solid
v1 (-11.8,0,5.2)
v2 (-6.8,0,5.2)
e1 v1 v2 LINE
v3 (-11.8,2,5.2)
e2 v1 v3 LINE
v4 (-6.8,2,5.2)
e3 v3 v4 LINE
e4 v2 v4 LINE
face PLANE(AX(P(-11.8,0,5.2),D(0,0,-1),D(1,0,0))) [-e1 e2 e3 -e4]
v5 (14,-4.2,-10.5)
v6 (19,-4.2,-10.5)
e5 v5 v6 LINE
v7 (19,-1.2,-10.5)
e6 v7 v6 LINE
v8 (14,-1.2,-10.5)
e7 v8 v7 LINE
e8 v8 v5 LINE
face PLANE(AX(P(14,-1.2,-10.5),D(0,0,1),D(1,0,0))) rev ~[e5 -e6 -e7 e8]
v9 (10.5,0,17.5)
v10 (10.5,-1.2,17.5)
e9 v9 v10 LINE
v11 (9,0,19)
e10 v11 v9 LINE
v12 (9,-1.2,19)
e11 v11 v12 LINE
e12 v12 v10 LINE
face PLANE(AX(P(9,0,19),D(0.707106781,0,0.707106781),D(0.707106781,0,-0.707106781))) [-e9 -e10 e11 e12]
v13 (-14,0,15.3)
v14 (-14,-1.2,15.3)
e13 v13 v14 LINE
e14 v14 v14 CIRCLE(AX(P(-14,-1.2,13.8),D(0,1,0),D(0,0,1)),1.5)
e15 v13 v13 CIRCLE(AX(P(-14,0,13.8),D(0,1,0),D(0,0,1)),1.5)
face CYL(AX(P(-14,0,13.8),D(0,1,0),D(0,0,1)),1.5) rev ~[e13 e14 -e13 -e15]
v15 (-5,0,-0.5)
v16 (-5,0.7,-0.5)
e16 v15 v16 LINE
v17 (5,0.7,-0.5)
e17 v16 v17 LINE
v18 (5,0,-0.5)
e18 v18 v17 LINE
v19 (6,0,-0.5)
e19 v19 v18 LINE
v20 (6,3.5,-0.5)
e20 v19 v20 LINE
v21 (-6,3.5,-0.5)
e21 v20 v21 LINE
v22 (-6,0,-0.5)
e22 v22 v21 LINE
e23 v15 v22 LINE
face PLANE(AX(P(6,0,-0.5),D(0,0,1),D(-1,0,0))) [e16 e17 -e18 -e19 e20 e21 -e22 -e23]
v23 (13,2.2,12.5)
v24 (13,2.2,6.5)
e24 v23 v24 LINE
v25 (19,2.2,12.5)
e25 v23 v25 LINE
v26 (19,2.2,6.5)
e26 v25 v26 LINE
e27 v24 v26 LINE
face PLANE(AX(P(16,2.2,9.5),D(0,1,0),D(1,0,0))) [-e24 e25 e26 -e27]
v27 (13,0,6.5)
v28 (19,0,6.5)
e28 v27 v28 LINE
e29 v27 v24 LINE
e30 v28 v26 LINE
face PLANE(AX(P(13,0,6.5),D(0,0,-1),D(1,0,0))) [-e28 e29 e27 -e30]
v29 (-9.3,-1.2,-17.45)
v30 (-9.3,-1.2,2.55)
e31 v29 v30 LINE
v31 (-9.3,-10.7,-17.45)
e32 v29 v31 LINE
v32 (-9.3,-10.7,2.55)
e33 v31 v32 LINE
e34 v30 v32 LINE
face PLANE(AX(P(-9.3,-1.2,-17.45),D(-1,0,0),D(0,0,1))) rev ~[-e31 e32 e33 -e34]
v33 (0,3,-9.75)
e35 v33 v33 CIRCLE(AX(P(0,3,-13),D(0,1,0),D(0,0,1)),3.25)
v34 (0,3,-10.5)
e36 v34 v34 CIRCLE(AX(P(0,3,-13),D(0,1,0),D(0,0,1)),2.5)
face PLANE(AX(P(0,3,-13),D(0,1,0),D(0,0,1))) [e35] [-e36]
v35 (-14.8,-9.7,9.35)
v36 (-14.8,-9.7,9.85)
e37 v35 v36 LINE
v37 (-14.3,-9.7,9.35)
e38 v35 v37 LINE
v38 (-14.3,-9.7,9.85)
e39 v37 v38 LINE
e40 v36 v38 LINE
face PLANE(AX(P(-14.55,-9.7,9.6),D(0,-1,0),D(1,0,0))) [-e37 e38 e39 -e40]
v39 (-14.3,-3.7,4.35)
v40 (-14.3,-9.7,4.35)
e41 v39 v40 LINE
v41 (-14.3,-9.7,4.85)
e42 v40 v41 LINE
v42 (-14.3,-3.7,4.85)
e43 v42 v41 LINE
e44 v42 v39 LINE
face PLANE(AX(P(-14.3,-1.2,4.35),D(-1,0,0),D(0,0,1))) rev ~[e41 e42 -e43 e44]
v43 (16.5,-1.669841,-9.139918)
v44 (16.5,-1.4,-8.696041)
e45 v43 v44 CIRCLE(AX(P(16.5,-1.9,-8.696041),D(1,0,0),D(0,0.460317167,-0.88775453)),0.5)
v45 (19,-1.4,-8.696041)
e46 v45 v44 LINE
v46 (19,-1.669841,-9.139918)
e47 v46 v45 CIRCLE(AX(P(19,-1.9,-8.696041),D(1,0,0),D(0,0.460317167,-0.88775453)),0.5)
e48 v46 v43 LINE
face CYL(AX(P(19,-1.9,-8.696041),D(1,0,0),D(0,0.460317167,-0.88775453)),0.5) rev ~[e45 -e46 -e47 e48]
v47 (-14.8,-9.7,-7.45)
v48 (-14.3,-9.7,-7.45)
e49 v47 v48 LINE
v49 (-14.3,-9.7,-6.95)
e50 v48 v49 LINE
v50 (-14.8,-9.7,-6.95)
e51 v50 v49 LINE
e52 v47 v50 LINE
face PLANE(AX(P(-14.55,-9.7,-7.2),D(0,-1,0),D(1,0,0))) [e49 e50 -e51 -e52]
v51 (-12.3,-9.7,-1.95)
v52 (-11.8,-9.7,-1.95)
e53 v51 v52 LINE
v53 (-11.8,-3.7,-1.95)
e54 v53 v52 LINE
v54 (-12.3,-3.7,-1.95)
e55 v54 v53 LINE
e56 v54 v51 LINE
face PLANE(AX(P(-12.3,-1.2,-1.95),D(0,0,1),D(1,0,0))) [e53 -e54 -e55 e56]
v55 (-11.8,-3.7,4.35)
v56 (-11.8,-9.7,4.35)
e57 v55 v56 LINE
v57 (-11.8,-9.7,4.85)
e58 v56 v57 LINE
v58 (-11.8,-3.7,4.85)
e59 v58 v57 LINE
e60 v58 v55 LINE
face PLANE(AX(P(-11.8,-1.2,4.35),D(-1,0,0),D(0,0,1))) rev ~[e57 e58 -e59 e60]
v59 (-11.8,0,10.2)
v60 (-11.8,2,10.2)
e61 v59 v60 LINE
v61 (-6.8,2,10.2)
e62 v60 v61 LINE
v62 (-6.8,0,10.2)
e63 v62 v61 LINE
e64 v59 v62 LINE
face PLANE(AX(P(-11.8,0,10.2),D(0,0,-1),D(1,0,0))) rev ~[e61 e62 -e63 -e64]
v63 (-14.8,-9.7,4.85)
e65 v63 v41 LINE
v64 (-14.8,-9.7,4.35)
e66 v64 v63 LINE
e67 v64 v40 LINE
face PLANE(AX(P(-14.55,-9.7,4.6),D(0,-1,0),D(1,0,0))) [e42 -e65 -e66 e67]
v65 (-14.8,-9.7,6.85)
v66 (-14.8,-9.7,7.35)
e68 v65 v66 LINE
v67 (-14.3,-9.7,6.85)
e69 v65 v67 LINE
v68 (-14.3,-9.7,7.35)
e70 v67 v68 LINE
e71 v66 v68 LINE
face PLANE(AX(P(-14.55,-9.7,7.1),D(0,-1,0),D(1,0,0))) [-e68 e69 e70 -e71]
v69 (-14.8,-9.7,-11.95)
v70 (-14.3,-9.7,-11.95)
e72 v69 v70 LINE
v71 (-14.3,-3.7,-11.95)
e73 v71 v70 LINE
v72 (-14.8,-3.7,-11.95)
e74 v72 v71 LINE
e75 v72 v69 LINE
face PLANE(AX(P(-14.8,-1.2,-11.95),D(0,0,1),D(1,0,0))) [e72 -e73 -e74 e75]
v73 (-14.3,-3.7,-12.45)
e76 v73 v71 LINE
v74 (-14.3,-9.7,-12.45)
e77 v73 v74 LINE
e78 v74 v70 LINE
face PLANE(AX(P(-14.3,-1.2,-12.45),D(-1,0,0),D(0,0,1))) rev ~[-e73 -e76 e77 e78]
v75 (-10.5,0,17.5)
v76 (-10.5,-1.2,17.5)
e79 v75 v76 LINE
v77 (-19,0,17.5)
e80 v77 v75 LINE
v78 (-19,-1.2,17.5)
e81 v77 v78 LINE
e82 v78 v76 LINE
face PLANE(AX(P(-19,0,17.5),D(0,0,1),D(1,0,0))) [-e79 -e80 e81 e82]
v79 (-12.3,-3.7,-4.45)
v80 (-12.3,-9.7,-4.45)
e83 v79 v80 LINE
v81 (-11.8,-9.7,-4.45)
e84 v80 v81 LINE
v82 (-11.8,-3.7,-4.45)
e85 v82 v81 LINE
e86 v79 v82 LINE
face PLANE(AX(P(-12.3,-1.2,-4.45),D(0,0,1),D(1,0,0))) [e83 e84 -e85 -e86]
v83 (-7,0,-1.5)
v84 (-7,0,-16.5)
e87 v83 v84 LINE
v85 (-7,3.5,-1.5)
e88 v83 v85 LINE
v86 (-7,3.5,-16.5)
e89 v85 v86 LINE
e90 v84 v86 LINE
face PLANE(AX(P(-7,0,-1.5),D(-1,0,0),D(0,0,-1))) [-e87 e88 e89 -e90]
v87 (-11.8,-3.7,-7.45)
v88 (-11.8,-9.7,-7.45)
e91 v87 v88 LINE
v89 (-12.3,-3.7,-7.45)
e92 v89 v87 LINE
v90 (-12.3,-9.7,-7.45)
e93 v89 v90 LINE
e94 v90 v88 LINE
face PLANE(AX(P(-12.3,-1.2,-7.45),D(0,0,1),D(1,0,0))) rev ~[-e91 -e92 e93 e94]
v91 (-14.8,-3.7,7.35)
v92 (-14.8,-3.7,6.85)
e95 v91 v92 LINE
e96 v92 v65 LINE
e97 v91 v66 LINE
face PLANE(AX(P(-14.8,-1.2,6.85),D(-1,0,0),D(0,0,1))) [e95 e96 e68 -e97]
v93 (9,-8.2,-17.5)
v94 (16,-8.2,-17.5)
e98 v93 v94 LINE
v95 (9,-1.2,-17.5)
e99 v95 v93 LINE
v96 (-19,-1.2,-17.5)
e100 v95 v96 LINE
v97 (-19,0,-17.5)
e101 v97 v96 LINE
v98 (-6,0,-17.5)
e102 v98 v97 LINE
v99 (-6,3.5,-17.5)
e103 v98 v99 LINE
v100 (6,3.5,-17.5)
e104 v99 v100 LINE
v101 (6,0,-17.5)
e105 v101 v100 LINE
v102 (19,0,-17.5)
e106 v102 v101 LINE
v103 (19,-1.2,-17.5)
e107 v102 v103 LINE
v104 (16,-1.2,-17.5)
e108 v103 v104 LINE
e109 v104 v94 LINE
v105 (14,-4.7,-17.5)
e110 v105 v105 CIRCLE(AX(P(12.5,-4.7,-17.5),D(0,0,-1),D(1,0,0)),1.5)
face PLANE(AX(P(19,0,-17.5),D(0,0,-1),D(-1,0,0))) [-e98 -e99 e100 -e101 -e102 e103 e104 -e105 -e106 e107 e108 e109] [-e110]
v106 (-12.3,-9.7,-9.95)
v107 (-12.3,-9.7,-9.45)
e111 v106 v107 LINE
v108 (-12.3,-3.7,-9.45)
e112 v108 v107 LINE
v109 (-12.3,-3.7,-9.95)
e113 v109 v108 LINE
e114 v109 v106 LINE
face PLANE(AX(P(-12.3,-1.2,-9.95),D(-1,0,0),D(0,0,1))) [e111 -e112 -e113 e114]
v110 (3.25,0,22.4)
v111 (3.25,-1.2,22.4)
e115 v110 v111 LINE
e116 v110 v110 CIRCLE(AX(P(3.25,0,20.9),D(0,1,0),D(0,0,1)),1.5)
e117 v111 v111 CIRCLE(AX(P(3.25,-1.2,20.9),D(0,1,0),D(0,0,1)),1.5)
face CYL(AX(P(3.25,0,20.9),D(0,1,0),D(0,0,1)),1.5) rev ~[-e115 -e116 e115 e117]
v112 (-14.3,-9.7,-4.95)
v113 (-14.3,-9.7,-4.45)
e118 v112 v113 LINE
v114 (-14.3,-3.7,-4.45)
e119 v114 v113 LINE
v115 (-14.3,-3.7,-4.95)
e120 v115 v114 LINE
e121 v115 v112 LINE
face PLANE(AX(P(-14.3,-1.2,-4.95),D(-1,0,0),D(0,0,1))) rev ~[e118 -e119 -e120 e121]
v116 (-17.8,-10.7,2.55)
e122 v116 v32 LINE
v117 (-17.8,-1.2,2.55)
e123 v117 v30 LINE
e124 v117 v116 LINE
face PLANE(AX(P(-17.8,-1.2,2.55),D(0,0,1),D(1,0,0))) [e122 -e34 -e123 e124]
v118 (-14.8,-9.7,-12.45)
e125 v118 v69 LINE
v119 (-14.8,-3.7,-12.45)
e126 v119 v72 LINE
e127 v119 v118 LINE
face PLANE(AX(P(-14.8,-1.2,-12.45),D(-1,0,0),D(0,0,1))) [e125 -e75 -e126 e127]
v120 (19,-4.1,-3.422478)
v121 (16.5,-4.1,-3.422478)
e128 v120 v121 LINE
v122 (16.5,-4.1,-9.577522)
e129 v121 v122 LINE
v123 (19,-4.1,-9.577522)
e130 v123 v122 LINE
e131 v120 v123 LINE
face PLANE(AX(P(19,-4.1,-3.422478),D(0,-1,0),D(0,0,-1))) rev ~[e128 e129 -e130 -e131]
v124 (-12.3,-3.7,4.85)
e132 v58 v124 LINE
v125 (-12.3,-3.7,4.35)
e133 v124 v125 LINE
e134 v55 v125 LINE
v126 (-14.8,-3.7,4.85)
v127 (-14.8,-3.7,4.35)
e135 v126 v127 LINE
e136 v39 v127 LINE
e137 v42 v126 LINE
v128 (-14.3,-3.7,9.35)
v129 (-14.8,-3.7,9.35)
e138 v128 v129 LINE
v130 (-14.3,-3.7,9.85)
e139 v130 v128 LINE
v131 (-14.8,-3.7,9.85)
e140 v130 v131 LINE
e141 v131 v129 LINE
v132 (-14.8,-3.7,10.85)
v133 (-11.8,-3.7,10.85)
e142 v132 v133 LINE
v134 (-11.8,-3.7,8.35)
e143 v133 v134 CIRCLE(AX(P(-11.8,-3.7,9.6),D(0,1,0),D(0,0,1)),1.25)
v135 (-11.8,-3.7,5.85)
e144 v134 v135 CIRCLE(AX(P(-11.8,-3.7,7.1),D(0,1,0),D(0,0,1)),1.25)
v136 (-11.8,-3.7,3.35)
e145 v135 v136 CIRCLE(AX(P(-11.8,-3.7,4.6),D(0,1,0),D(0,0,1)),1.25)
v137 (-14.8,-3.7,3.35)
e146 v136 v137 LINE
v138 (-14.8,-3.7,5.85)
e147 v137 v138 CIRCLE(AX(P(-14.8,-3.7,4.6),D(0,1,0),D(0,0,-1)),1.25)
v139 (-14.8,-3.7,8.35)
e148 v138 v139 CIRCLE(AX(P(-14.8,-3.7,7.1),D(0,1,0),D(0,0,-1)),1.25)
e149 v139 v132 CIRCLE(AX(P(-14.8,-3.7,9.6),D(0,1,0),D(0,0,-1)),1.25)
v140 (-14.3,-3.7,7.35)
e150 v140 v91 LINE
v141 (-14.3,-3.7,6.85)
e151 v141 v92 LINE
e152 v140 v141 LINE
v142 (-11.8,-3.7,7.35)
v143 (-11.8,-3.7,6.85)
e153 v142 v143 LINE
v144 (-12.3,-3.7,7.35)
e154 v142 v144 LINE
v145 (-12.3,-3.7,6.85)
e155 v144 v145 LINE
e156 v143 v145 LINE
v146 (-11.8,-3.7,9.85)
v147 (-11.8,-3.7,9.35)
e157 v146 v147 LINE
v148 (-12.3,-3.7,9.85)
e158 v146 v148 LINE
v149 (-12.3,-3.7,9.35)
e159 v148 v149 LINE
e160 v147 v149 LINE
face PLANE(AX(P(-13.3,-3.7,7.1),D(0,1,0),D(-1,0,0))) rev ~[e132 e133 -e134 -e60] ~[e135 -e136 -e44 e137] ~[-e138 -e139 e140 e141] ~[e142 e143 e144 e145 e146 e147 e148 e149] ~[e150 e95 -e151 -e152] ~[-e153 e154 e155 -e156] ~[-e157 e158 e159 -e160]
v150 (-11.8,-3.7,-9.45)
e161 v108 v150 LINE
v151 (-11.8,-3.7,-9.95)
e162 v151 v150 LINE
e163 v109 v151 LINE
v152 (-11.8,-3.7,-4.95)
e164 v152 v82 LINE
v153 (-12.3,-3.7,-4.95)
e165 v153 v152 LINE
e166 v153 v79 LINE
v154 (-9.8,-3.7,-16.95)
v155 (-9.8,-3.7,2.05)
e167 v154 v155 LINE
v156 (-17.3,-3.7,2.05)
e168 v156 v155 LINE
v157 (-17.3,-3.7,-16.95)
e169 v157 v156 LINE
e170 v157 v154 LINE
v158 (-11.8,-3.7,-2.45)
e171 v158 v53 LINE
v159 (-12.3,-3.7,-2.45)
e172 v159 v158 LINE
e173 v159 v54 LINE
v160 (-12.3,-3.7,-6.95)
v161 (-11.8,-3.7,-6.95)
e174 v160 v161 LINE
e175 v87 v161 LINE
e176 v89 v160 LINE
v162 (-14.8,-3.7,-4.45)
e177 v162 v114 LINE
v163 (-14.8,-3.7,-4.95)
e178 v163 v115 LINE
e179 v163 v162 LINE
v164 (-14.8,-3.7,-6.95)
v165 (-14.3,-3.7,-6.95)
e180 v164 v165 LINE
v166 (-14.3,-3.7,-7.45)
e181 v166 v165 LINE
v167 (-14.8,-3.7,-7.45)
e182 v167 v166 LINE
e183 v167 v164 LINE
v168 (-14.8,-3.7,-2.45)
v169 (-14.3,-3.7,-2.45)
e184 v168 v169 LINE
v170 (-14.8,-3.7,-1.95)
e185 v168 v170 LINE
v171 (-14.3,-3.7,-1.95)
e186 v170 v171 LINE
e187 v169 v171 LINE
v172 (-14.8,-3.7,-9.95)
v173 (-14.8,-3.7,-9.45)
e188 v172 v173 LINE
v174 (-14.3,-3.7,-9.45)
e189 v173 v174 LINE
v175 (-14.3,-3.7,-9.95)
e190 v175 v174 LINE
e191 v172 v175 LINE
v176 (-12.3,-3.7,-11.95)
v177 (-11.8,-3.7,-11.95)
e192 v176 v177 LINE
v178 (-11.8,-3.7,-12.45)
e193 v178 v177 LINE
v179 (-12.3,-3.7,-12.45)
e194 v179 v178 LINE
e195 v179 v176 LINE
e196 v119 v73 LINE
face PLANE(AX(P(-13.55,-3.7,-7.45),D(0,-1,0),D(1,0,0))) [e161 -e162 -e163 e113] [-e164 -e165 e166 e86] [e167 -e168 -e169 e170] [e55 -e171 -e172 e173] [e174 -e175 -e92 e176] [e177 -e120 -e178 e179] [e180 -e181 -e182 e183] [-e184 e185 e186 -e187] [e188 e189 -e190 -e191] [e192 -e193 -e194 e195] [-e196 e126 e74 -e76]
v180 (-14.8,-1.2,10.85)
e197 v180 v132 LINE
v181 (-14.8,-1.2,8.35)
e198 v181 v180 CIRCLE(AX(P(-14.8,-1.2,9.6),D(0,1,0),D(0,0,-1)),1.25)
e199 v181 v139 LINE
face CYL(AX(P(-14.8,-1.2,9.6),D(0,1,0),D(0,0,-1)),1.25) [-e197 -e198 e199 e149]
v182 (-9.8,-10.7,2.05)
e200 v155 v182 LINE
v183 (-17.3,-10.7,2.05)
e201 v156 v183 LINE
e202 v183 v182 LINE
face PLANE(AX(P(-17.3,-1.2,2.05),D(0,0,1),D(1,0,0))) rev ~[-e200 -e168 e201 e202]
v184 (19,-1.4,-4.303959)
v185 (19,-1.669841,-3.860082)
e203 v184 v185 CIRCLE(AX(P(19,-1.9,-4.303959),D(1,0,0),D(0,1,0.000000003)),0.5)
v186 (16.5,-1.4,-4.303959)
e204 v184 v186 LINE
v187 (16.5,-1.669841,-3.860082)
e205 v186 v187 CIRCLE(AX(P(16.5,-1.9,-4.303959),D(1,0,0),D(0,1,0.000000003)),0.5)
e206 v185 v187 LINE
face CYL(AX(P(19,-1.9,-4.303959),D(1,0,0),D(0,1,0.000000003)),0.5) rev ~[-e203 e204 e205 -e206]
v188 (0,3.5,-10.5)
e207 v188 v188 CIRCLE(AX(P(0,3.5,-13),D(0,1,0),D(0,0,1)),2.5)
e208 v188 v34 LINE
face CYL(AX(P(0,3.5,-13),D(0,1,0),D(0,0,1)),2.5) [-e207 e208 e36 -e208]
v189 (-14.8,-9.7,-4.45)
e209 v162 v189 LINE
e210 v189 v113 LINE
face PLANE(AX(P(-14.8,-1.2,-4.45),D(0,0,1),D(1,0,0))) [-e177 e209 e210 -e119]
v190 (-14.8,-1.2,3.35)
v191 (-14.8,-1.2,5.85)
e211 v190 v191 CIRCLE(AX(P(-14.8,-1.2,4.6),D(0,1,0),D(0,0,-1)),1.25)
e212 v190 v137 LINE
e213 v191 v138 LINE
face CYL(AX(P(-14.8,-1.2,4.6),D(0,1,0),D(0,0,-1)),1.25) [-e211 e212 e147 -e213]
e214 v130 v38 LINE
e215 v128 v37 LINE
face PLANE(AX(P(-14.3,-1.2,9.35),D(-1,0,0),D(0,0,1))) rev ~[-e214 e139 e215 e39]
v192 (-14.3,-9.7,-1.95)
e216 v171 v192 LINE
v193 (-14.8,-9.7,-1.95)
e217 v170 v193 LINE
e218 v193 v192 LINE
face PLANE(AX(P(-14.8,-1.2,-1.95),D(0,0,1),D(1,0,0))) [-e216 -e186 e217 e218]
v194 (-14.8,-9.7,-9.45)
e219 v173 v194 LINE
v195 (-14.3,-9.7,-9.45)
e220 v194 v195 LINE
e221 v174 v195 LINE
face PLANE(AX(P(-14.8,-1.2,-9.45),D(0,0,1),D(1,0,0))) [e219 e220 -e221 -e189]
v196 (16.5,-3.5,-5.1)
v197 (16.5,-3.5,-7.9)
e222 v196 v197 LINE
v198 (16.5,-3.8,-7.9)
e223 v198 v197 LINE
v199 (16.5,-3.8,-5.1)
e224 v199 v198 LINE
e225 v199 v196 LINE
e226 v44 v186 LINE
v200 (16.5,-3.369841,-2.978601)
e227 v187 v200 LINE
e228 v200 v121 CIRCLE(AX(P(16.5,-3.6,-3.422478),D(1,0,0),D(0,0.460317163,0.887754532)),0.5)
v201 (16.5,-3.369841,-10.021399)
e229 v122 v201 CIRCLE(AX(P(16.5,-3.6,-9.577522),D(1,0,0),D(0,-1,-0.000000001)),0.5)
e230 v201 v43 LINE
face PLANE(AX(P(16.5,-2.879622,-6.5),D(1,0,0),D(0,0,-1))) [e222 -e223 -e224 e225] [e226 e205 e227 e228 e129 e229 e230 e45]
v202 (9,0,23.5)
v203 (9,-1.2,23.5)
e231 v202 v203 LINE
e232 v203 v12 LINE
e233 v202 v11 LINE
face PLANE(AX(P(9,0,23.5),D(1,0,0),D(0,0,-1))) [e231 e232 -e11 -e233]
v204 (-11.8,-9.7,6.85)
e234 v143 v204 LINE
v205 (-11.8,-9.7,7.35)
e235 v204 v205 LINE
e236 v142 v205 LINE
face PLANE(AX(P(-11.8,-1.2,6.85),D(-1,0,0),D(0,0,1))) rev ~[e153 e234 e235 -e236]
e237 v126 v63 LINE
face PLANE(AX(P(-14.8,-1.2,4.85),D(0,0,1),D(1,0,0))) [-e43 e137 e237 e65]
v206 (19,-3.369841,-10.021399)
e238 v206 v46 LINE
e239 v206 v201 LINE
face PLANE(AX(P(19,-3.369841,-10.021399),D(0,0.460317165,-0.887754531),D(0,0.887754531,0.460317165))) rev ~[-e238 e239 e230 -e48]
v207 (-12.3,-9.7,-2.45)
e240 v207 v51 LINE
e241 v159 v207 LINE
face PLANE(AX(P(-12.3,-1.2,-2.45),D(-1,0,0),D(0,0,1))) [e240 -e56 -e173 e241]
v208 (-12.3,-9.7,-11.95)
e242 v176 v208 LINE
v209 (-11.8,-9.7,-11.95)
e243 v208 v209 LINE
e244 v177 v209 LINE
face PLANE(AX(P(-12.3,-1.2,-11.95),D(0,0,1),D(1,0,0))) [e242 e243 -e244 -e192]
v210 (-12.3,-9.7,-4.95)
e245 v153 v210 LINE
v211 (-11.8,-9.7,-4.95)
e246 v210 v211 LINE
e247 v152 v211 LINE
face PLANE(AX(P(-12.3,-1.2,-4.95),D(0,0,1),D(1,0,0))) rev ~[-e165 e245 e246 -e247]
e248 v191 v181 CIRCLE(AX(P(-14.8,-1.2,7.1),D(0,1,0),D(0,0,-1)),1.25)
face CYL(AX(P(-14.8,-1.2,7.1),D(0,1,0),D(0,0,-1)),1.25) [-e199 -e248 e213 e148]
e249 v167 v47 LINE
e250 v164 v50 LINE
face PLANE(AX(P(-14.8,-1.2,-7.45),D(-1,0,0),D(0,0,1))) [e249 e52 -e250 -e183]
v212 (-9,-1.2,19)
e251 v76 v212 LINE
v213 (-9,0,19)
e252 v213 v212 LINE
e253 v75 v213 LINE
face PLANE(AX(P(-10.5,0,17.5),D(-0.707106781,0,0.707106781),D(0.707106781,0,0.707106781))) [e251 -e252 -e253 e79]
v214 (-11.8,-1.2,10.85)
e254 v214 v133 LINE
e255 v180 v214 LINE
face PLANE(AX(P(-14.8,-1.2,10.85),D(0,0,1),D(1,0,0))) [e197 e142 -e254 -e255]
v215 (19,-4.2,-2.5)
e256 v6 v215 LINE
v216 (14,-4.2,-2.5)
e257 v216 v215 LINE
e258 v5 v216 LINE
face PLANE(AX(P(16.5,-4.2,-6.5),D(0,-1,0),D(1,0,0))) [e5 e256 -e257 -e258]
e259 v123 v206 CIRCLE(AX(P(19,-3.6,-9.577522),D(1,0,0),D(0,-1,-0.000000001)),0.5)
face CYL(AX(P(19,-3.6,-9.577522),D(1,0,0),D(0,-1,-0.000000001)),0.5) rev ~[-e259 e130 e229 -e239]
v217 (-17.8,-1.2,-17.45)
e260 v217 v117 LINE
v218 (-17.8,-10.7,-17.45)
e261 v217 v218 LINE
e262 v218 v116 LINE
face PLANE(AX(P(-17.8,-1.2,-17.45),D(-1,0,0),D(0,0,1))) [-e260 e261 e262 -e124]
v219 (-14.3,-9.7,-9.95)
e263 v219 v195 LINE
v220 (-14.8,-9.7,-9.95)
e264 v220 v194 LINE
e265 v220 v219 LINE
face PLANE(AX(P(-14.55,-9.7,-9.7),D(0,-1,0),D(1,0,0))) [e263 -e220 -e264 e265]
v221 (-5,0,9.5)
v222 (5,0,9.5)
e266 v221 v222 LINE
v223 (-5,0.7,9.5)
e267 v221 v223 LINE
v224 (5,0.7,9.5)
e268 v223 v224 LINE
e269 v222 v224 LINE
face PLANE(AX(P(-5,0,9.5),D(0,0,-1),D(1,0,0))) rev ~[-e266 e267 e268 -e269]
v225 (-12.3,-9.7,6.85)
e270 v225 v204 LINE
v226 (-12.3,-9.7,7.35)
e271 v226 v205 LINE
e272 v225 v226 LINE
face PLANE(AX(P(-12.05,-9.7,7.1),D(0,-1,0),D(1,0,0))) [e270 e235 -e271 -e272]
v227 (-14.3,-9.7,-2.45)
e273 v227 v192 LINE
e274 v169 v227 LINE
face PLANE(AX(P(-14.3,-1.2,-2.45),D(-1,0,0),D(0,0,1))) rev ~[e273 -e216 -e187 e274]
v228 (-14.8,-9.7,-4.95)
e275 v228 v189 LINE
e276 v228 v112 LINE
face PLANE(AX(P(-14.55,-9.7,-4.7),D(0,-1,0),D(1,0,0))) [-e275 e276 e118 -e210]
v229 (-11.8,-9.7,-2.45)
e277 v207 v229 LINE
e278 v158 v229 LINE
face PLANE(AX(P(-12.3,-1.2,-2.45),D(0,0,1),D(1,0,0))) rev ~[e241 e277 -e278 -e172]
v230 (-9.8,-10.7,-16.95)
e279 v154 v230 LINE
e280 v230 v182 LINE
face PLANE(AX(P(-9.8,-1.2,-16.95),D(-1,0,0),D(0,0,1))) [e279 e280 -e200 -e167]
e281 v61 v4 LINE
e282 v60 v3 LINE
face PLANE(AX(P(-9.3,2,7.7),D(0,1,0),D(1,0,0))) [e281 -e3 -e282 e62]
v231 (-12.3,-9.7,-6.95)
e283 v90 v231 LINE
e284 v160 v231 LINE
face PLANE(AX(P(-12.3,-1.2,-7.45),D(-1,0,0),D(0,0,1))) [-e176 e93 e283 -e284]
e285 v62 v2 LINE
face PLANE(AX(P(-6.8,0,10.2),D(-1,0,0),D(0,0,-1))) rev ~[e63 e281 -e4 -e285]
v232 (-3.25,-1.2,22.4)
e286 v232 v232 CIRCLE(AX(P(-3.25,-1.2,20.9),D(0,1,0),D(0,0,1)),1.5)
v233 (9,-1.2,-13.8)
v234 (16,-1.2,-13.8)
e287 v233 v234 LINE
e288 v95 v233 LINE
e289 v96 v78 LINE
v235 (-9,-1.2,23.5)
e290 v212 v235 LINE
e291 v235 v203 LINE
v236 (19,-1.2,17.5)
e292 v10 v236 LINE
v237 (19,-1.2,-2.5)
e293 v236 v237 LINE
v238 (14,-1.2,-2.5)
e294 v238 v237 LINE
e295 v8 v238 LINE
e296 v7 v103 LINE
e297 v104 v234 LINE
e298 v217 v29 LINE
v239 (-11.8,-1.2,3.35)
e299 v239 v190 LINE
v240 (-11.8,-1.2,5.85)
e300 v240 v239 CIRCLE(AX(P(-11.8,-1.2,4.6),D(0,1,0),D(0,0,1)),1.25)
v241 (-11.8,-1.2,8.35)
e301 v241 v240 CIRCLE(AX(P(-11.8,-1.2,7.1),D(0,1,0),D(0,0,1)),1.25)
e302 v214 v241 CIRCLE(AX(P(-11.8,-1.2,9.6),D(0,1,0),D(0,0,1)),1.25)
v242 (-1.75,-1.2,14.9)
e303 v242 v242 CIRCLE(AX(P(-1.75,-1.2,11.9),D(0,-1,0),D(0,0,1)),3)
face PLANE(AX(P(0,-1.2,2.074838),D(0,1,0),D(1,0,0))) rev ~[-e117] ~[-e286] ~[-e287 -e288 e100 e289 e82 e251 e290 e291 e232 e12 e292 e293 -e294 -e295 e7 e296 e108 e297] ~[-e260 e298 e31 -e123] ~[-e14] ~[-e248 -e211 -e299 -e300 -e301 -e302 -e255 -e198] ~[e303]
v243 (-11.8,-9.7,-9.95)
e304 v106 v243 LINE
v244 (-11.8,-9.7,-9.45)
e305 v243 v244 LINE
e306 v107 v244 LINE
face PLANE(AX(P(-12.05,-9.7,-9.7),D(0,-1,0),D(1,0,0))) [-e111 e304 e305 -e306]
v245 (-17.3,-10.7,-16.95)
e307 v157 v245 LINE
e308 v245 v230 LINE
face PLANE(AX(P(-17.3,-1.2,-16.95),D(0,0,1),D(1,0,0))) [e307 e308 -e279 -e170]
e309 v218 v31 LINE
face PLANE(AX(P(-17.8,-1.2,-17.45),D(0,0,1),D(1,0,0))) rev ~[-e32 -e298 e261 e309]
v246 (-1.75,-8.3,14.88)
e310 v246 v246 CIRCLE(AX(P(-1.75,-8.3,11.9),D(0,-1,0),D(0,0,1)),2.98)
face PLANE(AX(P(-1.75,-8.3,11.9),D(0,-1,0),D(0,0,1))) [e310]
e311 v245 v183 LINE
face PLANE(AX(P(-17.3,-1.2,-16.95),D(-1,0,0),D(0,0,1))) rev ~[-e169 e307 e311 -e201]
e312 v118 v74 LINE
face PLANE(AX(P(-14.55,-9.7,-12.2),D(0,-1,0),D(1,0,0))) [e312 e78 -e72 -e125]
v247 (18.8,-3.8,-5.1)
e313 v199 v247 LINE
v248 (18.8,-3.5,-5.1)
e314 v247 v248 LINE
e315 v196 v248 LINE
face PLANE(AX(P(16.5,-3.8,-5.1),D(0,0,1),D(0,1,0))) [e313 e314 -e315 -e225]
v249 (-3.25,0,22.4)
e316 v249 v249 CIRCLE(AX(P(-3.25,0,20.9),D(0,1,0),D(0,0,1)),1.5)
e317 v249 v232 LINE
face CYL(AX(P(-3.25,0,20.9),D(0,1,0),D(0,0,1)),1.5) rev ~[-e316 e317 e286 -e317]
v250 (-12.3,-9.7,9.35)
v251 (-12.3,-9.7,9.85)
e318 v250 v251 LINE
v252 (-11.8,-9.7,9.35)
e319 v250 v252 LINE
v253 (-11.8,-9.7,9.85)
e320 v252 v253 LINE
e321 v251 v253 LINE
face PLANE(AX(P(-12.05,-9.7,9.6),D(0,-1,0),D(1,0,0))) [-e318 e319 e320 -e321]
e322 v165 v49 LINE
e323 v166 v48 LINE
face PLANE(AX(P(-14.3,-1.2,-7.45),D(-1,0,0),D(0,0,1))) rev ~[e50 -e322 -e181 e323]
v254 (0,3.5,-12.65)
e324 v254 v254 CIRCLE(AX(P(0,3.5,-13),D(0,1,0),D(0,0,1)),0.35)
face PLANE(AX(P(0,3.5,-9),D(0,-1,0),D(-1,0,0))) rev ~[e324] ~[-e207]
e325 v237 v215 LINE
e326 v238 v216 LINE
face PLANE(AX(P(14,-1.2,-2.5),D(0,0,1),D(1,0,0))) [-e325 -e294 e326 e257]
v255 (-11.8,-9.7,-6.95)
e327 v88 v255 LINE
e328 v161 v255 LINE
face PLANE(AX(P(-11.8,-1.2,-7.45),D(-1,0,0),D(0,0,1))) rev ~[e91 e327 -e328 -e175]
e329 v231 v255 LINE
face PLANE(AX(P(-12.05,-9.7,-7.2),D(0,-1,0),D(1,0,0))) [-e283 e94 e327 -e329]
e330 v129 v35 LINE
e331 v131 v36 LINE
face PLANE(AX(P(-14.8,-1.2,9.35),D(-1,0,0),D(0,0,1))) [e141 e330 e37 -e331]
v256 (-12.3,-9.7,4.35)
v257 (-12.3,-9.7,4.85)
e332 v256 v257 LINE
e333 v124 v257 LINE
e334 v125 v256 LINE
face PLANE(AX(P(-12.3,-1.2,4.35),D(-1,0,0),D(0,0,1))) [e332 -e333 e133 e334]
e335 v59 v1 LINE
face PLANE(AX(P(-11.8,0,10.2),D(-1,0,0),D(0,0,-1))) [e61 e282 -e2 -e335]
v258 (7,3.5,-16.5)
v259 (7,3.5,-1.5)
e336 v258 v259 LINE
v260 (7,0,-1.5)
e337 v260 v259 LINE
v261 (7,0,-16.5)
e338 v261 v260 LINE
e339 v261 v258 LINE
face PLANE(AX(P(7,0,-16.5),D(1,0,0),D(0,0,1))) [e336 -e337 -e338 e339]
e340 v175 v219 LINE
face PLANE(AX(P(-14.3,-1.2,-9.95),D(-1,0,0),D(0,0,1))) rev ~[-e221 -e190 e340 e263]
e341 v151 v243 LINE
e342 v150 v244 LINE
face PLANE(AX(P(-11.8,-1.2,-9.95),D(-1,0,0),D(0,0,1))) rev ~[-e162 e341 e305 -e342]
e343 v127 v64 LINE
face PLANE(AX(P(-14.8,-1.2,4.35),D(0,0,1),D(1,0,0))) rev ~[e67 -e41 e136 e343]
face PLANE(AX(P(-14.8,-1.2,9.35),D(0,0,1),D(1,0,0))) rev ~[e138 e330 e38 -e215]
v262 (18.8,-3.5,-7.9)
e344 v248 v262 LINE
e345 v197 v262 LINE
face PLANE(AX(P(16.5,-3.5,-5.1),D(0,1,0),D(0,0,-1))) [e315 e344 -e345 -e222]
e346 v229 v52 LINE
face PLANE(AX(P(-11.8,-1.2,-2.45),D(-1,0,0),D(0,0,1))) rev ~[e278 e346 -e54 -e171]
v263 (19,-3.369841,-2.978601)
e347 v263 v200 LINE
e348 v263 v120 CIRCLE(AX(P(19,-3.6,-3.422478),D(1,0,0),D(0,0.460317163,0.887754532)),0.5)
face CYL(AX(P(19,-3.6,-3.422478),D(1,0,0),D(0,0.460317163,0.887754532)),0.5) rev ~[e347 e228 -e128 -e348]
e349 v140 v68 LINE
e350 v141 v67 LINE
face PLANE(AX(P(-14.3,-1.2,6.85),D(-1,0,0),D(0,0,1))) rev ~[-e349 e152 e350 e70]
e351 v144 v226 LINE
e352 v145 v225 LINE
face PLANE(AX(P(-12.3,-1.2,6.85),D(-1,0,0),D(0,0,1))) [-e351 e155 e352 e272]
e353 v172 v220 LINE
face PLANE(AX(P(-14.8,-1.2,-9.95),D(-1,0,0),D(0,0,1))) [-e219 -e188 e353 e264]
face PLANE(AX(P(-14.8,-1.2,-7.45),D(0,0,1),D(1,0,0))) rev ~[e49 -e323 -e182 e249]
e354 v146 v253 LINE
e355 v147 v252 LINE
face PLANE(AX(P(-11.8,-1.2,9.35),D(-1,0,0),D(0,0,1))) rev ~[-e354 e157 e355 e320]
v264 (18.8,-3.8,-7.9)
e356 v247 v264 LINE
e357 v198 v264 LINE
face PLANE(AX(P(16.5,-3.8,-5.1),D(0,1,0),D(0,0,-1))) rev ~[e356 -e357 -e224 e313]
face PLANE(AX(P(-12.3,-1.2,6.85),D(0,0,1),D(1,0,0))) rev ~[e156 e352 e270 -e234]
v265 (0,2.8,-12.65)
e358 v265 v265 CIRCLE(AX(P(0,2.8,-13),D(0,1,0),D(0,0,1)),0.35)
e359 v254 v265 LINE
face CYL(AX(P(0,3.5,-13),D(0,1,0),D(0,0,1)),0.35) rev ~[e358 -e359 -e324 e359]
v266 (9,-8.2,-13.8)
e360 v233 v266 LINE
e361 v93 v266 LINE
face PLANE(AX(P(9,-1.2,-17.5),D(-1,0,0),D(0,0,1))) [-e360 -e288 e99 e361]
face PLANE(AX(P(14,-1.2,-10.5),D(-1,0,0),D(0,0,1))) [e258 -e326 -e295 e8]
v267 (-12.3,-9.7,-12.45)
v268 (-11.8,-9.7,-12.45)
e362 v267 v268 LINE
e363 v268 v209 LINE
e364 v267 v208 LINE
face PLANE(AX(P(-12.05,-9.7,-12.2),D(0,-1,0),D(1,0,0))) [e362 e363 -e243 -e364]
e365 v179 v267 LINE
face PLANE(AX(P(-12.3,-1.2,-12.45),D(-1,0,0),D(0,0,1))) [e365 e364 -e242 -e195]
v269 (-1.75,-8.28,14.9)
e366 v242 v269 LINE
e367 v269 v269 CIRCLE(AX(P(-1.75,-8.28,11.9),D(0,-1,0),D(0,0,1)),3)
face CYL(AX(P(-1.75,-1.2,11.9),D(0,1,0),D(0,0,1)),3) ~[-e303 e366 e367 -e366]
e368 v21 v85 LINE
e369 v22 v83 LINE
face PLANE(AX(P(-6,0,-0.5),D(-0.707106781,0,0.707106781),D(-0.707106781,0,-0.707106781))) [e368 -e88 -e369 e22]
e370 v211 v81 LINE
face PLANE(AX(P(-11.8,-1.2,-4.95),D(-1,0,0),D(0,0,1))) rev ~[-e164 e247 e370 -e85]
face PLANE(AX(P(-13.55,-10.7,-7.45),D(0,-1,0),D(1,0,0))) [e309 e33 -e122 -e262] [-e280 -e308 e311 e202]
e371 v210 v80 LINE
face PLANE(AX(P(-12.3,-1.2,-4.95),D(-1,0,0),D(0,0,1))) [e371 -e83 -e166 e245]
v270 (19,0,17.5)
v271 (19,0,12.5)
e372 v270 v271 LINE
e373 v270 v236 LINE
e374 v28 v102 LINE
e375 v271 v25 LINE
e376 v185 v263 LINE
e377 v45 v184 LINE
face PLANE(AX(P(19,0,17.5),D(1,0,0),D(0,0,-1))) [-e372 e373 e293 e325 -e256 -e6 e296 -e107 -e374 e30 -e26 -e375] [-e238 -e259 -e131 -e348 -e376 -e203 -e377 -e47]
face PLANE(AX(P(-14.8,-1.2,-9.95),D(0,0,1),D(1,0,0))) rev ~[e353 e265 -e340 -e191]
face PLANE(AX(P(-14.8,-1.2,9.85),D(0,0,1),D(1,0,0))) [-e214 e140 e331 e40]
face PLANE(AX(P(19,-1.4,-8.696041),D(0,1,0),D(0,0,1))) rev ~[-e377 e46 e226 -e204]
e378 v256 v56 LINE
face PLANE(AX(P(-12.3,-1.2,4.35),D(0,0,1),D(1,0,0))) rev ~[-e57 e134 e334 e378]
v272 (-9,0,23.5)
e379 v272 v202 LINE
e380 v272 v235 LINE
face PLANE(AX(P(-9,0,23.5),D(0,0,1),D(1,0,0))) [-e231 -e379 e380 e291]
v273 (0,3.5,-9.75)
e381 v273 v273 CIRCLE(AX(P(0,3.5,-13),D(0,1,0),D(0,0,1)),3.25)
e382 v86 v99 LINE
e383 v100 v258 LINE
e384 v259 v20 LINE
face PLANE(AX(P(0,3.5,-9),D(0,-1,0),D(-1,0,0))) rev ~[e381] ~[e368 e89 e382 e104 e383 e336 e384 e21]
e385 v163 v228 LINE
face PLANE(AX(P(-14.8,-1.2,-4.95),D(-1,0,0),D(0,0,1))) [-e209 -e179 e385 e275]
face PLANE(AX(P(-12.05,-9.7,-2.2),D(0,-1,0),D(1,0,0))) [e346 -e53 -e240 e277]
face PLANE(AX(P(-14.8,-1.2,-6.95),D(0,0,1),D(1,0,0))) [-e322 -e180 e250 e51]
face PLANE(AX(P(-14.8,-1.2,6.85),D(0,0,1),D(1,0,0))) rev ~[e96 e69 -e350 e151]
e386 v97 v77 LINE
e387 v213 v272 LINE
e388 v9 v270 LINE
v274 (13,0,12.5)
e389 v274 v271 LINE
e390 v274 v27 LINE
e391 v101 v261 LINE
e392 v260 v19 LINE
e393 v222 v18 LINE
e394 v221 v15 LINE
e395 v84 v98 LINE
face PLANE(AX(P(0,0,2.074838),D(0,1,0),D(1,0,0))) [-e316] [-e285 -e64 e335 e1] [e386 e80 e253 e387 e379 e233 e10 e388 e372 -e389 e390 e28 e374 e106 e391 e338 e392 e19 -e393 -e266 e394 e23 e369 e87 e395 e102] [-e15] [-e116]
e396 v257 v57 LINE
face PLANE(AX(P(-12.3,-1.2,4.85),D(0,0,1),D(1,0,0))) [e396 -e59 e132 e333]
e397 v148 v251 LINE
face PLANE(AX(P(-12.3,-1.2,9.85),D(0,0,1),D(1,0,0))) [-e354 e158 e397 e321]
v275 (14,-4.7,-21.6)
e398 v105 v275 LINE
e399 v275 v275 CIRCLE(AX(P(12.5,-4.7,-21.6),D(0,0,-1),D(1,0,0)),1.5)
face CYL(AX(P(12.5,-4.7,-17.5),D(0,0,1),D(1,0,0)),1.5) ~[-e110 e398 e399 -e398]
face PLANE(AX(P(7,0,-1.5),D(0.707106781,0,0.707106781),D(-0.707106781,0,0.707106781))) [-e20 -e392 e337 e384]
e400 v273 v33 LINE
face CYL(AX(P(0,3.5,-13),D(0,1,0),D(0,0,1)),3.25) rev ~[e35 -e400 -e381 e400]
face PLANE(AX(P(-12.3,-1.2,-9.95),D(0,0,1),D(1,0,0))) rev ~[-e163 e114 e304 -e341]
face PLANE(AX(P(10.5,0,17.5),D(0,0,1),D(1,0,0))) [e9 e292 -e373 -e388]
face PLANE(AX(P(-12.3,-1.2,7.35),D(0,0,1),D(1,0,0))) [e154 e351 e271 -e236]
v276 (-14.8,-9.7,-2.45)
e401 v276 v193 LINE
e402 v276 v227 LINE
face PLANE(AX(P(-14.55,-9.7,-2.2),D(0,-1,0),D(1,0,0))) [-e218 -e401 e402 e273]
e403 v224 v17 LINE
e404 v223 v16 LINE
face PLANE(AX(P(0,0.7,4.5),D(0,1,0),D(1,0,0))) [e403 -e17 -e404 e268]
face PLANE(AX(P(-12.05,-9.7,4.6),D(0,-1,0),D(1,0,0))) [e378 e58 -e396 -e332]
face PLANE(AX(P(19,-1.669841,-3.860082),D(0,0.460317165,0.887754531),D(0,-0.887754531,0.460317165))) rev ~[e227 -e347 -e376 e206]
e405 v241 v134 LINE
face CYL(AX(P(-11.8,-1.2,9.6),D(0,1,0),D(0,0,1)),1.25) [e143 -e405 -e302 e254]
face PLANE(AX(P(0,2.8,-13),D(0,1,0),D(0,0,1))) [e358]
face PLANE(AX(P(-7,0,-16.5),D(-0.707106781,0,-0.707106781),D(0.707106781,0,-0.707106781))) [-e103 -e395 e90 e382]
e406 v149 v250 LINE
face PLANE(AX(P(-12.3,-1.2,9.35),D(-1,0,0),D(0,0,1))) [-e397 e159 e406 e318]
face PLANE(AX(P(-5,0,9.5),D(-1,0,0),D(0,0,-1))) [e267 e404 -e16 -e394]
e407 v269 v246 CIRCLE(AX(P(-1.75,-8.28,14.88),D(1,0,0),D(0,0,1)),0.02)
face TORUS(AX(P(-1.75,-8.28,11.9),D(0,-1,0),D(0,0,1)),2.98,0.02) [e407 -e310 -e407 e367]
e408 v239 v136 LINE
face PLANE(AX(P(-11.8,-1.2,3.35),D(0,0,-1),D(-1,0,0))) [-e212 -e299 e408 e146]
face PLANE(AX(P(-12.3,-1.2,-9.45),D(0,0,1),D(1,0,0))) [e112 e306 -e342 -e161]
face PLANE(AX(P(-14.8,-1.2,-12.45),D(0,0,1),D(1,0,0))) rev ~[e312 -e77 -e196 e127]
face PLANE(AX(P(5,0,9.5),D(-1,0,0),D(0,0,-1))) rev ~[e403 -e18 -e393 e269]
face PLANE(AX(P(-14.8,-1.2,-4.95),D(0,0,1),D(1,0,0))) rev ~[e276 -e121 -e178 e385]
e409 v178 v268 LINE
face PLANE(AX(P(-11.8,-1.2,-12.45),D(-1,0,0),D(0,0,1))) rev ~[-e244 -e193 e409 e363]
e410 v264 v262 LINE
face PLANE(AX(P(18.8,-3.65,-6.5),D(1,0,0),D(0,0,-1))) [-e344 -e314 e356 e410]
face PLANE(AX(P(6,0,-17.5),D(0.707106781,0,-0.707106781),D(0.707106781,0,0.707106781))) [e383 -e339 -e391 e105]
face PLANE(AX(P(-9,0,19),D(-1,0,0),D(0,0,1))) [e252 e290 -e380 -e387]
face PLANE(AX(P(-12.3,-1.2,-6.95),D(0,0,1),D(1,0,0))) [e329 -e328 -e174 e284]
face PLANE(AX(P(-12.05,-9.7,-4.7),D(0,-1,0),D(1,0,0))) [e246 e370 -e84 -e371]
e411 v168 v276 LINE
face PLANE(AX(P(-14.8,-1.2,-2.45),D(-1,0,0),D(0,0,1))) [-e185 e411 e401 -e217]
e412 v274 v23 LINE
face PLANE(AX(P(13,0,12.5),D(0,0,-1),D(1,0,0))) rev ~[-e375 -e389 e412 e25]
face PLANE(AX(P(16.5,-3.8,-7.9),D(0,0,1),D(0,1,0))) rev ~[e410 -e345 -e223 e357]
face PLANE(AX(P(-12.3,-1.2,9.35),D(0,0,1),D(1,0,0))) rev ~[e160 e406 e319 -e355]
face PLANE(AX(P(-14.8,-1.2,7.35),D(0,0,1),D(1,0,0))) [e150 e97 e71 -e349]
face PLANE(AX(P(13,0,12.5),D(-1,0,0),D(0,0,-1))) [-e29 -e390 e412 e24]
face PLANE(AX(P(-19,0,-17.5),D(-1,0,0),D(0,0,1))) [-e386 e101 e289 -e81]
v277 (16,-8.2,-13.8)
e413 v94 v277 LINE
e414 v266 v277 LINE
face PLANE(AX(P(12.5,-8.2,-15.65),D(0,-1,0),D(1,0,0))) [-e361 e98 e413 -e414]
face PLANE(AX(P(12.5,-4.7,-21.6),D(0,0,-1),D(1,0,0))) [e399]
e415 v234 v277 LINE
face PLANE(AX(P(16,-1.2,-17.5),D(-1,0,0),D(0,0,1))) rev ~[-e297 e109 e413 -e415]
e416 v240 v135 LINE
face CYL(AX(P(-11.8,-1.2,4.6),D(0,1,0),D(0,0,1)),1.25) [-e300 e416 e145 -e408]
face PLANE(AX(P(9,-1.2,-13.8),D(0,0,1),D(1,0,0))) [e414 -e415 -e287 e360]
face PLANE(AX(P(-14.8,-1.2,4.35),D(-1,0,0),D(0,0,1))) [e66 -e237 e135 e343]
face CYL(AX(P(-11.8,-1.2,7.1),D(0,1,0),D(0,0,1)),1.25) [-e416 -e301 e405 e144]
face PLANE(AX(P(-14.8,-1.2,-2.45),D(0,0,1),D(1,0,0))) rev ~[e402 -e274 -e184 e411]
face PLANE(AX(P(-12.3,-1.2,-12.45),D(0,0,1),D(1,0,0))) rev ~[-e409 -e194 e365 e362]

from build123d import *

# Parameters (mm, degrees)
SKETCH_1_R          = 1.5
EXTRUDE_1_DEPTH     = 1.2
EXTRUDE_2_DEPTH     = 3.5
SKETCH_3_R          = 3.25
SKETCH_3_R_2        = 2.5
CUT_EXTRUDE_1_DEPTH = 0.5
SKETCH_4_R          = 0.35
CUT_EXTRUDE_2_DEPTH = 0.7
SKETCH_5_W          = 6
SKETCH_5_H          = 6
EXTRUDE_3_DEPTH     = 2.2
SKETCH_6_W          = 10
SKETCH_6_H          = 10
EXTRUDE_4_DEPTH     = 0.7
SKETCH_7_W          = 5
SKETCH_7_H          = 5
EXTRUDE_5_DEPTH     = 2
SKETCH_8_W          = 5
SKETCH_8_H          = 8
EXTRUDE_6_DEPTH     = 3
CUT_EXTRUDE_3_DEPTH = 2.5
SKETCH_10_W         = 2.8
SKETCH_10_H         = 0.3
EXTRUDE_7_DEPTH     = 2.3
SKETCH_11_R         = 3
EXTRUDE_8_DEPTH     = 7.1
FILLET_1_R          = 0.02
SKETCH_12_W         = 7
SKETCH_12_H         = 3.7
EXTRUDE_9_DEPTH     = 7
SKETCH_13_R         = 1.5
EXTRUDE_10_DEPTH    = 4.1
SKETCH_14_W         = 8.5
SKETCH_14_H         = 20
SKETCH_14_W_2       = 7.5
SKETCH_14_H_2       = 19
EXTRUDE_11_DEPTH    = 9.5
SKETCH_15_W         = 0.5
SKETCH_15_H         = 0.5
EXTRUDE_12_DEPTH    = 8.5
SKETCH_16_W         = 0.5
SKETCH_16_H         = 0.5
EXTRUDE_13_DEPTH    = 8.5
SKETCH_17_W         = 7.5
SKETCH_17_H         = 19
EXTRUDE_14_DEPTH    = 2.5


with BuildPart() as part:
    # 草图1 → 凸台-拉伸1 (new body)
    with BuildSketch(Plane(origin=(0, 0, 0), x_dir=(1, 0, 0), z_dir=(0, 1, 0))):
        Polygon((9, -19), (10.5, -17.5), (19, -17.5), (19, 17.5), (-19, 17.5), (-19, -17.5), (-10.5, -17.5), (-9, -19), (-9, -23.5), (9, -23.5), align=None)
        with Locations((-14, -13.8)):
            Circle(SKETCH_1_R, mode=Mode.SUBTRACT)
        with Locations((-3.25, -20.9)):
            Circle(SKETCH_1_R, mode=Mode.SUBTRACT)
        with Locations((3.25, -20.9)):
            Circle(SKETCH_1_R, mode=Mode.SUBTRACT)
    extrude(amount=-EXTRUDE_1_DEPTH)

    # 草图2 → 凸台-拉伸2 (add)
    with BuildSketch(Plane(origin=(0, 0, 0), x_dir=(1, 0, 0), z_dir=(0, 1, 0))):
        Polygon((-6, 17.5), (6, 17.5), (7, 16.5), (7, 1.5), (6, 0.5), (-6, 0.5), (-7, 1.5), (-7, 16.5), align=None)
    extrude(amount=EXTRUDE_2_DEPTH)

    # 草图3 → 切除-拉伸1 (cut)
    with BuildSketch(Plane(origin=(0, 3.5, 0), x_dir=(1, 0, 0), z_dir=(0, 1, 0))):
        with Locations((0, 13)):
            Circle(SKETCH_3_R)
        with Locations((0, 13)):
            Circle(SKETCH_3_R_2, mode=Mode.SUBTRACT)
    extrude(amount=-CUT_EXTRUDE_1_DEPTH, mode=Mode.SUBTRACT)

    # 草图4 → 切除-拉伸2 (cut)
    with BuildSketch(Plane(origin=(0, 3.5, 0), x_dir=(1, 0, 0), z_dir=(0, 1, 0))):
        with Locations((0, 13)):
            Circle(SKETCH_4_R)
    extrude(amount=-CUT_EXTRUDE_2_DEPTH, mode=Mode.SUBTRACT)

    # 草图5 → 凸台-拉伸3 (add)
    with BuildSketch(Plane(origin=(0, 0, 0), x_dir=(1, 0, 0), z_dir=(0, 1, 0))):
        with Locations((16, -9.5)):
            Rectangle(SKETCH_5_W, SKETCH_5_H)
    extrude(amount=EXTRUDE_3_DEPTH)

    # 草图6 → 凸台-拉伸4 (add)
    with BuildSketch(Plane(origin=(0, 0, 0), x_dir=(1, 0, 0), z_dir=(0, 1, 0))):
        with Locations((0, -4.5)):
            Rectangle(SKETCH_6_W, SKETCH_6_H)
    extrude(amount=EXTRUDE_4_DEPTH)

    # 草图7 → 凸台-拉伸5 (add)
    with BuildSketch(Plane(origin=(0, 0, 0), x_dir=(1, 0, 0), z_dir=(0, 1, 0))):
        with Locations((-9.3, -7.7)):
            Rectangle(SKETCH_7_W, SKETCH_7_H)
    extrude(amount=EXTRUDE_5_DEPTH)

    # 草图8 → 凸台-拉伸6 (add)
    with BuildSketch(Plane.XZ.offset(1.2)):
        with Locations((16.5, -6.5)):
            Rectangle(SKETCH_8_W, SKETCH_8_H)
    extrude(amount=EXTRUDE_6_DEPTH)

    # 草图9 → 切除-拉伸3 (cut)
    with BuildSketch(Plane(origin=(19, 0, 0), x_dir=(0, 0, -1), z_dir=(1, 0, 0))):
        with BuildLine():
            Line((3.860082228, -1.669841418), (2.978600746, -3.369841418))
            ThreePointArc((2.978600746, -3.369841418), (2.995231426, -3.859731312), (3.422478012, -4.1))
            Line((3.422478012, -4.1), (9.577521988, -4.1))
            ThreePointArc((9.577521988, -4.1), (10.004768574, -3.859731312), (10.021399254, -3.369841418))
            Line((10.021399254, -3.369841418), (9.139917772, -1.669841418))
            ThreePointArc((9.139917772, -1.669841418), (8.955771818, -1.472753414), (8.696040506, -1.4))
            Line((8.696040506, -1.4), (4.303959494, -1.4))
            ThreePointArc((4.303959494, -1.4), (4.044228182, -1.472753414), (3.860082228, -1.669841418))
        make_face()
    extrude(amount=-CUT_EXTRUDE_3_DEPTH, mode=Mode.SUBTRACT)

    # 草图10 → 凸台-拉伸7 (add)
    with BuildSketch(Plane(origin=(16.5, 0, 0), x_dir=(0, 0, -1), z_dir=(1, 0, 0))):
        with Locations((6.5, -3.65)):
            Rectangle(SKETCH_10_W, SKETCH_10_H)
    extrude(amount=EXTRUDE_7_DEPTH)

    # 草图11 → 凸台-拉伸8 (add)
    with BuildSketch(Plane(origin=(0, -1.2, 0), x_dir=(-1, 0, 0), z_dir=(0, -1, 0))):
        with Locations((1.75, -11.9)):
            Circle(SKETCH_11_R)
    extrude(amount=EXTRUDE_8_DEPTH)

    # 圆角1
    fillet_1_edges = [part.edges().sort_by_distance(p)[0] for p in [
        (1.25, -8.3, 11.9),
    ]]
    fillet(fillet_1_edges, radius=FILLET_1_R)

    # 草图12 → 凸台-拉伸9 (add)
    with BuildSketch(Plane.XZ.offset(1.2)):
        with Locations((12.5, -15.65)):
            Rectangle(SKETCH_12_W, SKETCH_12_H)
    extrude(amount=EXTRUDE_9_DEPTH)

    # 草图13 → 凸台-拉伸10 (add)
    with BuildSketch(Plane(origin=(0, 0, -17.5), x_dir=(-1, 0, 0), z_dir=(0, 0, -1))):
        with Locations((-12.5, -4.7)):
            Circle(SKETCH_13_R)
    extrude(amount=EXTRUDE_10_DEPTH)

    # 草图14 → 凸台-拉伸11 (add)
    with BuildSketch(Plane.XZ.offset(1.2)):
        with Locations((-13.55, -7.45)):
            Rectangle(SKETCH_14_W, SKETCH_14_H)
        with Locations((-13.55, -7.45)):
            Rectangle(SKETCH_14_W_2, SKETCH_14_H_2, mode=Mode.SUBTRACT)
    extrude(amount=EXTRUDE_11_DEPTH)

    # 草图15 → 凸台-拉伸12 (add)
    with BuildSketch(Plane.XZ.offset(1.2)):
        with Locations((-14.55, -2.2)):
            Rectangle(SKETCH_15_W, SKETCH_15_H)
        with Locations((-12.05, -2.2)):
            Rectangle(SKETCH_15_W, SKETCH_15_H)
        with Locations((-12.05, -4.7)):
            Rectangle(SKETCH_15_W, SKETCH_15_H)
        with Locations((-12.05, -7.2)):
            Rectangle(SKETCH_15_W, SKETCH_15_H)
        with Locations((-12.05, -9.7)):
            Rectangle(SKETCH_15_W, SKETCH_15_H)
        with Locations((-12.05, -12.2)):
            Rectangle(SKETCH_15_W, SKETCH_15_H)
        with Locations((-14.55, -4.7)):
            Rectangle(SKETCH_15_W, SKETCH_15_H)
        with Locations((-14.55, -7.2)):
            Rectangle(SKETCH_15_W, SKETCH_15_H)
        with Locations((-14.55, -9.7)):
            Rectangle(SKETCH_15_W, SKETCH_15_H)
        with Locations((-14.55, -12.2)):
            Rectangle(SKETCH_15_W, SKETCH_15_H)
    extrude(amount=EXTRUDE_12_DEPTH)

    # 草图16 → 凸台-拉伸13 (add)
    with BuildSketch(Plane.XZ.offset(1.2)):
        with Locations((-14.55, 4.6)):
            Rectangle(SKETCH_16_W, SKETCH_16_H)
        with Locations((-12.05, 4.6)):
            Rectangle(SKETCH_16_W, SKETCH_16_H)
        with Locations((-12.05, 7.1)):
            Rectangle(SKETCH_16_W, SKETCH_16_H)
        with Locations((-12.05, 9.6)):
            Rectangle(SKETCH_16_W, SKETCH_16_H)
        with Locations((-14.55, 7.1)):
            Rectangle(SKETCH_16_W, SKETCH_16_H)
        with Locations((-14.55, 9.6)):
            Rectangle(SKETCH_16_W, SKETCH_16_H)
    extrude(amount=EXTRUDE_13_DEPTH)

    # 草图17 → 凸台-拉伸14 (add)
    with BuildSketch(Plane.XZ.offset(1.2)):
        with Locations((-13.55, -7.45)):
            Rectangle(SKETCH_17_W, SKETCH_17_H)
        with BuildLine():
            Line((-14.8, 10.85), (-11.8, 10.85))
            ThreePointArc((-11.8, 10.85), (-10.55, 9.6), (-11.8, 8.35))
            ThreePointArc((-11.8, 8.35), (-10.55, 7.1), (-11.8, 5.85))
            ThreePointArc((-11.8, 5.85), (-10.55, 4.6), (-11.8, 3.35))
            Line((-11.8, 3.35), (-14.8, 3.35))
            ThreePointArc((-14.8, 3.35), (-16.05, 4.6), (-14.8, 5.85))
            ThreePointArc((-14.8, 5.85), (-16.05, 7.1), (-14.8, 8.35))
            ThreePointArc((-14.8, 8.35), (-16.05, 9.6), (-14.8, 10.85))
        make_face()
    extrude(amount=EXTRUDE_14_DEPTH)


solid = part.part
